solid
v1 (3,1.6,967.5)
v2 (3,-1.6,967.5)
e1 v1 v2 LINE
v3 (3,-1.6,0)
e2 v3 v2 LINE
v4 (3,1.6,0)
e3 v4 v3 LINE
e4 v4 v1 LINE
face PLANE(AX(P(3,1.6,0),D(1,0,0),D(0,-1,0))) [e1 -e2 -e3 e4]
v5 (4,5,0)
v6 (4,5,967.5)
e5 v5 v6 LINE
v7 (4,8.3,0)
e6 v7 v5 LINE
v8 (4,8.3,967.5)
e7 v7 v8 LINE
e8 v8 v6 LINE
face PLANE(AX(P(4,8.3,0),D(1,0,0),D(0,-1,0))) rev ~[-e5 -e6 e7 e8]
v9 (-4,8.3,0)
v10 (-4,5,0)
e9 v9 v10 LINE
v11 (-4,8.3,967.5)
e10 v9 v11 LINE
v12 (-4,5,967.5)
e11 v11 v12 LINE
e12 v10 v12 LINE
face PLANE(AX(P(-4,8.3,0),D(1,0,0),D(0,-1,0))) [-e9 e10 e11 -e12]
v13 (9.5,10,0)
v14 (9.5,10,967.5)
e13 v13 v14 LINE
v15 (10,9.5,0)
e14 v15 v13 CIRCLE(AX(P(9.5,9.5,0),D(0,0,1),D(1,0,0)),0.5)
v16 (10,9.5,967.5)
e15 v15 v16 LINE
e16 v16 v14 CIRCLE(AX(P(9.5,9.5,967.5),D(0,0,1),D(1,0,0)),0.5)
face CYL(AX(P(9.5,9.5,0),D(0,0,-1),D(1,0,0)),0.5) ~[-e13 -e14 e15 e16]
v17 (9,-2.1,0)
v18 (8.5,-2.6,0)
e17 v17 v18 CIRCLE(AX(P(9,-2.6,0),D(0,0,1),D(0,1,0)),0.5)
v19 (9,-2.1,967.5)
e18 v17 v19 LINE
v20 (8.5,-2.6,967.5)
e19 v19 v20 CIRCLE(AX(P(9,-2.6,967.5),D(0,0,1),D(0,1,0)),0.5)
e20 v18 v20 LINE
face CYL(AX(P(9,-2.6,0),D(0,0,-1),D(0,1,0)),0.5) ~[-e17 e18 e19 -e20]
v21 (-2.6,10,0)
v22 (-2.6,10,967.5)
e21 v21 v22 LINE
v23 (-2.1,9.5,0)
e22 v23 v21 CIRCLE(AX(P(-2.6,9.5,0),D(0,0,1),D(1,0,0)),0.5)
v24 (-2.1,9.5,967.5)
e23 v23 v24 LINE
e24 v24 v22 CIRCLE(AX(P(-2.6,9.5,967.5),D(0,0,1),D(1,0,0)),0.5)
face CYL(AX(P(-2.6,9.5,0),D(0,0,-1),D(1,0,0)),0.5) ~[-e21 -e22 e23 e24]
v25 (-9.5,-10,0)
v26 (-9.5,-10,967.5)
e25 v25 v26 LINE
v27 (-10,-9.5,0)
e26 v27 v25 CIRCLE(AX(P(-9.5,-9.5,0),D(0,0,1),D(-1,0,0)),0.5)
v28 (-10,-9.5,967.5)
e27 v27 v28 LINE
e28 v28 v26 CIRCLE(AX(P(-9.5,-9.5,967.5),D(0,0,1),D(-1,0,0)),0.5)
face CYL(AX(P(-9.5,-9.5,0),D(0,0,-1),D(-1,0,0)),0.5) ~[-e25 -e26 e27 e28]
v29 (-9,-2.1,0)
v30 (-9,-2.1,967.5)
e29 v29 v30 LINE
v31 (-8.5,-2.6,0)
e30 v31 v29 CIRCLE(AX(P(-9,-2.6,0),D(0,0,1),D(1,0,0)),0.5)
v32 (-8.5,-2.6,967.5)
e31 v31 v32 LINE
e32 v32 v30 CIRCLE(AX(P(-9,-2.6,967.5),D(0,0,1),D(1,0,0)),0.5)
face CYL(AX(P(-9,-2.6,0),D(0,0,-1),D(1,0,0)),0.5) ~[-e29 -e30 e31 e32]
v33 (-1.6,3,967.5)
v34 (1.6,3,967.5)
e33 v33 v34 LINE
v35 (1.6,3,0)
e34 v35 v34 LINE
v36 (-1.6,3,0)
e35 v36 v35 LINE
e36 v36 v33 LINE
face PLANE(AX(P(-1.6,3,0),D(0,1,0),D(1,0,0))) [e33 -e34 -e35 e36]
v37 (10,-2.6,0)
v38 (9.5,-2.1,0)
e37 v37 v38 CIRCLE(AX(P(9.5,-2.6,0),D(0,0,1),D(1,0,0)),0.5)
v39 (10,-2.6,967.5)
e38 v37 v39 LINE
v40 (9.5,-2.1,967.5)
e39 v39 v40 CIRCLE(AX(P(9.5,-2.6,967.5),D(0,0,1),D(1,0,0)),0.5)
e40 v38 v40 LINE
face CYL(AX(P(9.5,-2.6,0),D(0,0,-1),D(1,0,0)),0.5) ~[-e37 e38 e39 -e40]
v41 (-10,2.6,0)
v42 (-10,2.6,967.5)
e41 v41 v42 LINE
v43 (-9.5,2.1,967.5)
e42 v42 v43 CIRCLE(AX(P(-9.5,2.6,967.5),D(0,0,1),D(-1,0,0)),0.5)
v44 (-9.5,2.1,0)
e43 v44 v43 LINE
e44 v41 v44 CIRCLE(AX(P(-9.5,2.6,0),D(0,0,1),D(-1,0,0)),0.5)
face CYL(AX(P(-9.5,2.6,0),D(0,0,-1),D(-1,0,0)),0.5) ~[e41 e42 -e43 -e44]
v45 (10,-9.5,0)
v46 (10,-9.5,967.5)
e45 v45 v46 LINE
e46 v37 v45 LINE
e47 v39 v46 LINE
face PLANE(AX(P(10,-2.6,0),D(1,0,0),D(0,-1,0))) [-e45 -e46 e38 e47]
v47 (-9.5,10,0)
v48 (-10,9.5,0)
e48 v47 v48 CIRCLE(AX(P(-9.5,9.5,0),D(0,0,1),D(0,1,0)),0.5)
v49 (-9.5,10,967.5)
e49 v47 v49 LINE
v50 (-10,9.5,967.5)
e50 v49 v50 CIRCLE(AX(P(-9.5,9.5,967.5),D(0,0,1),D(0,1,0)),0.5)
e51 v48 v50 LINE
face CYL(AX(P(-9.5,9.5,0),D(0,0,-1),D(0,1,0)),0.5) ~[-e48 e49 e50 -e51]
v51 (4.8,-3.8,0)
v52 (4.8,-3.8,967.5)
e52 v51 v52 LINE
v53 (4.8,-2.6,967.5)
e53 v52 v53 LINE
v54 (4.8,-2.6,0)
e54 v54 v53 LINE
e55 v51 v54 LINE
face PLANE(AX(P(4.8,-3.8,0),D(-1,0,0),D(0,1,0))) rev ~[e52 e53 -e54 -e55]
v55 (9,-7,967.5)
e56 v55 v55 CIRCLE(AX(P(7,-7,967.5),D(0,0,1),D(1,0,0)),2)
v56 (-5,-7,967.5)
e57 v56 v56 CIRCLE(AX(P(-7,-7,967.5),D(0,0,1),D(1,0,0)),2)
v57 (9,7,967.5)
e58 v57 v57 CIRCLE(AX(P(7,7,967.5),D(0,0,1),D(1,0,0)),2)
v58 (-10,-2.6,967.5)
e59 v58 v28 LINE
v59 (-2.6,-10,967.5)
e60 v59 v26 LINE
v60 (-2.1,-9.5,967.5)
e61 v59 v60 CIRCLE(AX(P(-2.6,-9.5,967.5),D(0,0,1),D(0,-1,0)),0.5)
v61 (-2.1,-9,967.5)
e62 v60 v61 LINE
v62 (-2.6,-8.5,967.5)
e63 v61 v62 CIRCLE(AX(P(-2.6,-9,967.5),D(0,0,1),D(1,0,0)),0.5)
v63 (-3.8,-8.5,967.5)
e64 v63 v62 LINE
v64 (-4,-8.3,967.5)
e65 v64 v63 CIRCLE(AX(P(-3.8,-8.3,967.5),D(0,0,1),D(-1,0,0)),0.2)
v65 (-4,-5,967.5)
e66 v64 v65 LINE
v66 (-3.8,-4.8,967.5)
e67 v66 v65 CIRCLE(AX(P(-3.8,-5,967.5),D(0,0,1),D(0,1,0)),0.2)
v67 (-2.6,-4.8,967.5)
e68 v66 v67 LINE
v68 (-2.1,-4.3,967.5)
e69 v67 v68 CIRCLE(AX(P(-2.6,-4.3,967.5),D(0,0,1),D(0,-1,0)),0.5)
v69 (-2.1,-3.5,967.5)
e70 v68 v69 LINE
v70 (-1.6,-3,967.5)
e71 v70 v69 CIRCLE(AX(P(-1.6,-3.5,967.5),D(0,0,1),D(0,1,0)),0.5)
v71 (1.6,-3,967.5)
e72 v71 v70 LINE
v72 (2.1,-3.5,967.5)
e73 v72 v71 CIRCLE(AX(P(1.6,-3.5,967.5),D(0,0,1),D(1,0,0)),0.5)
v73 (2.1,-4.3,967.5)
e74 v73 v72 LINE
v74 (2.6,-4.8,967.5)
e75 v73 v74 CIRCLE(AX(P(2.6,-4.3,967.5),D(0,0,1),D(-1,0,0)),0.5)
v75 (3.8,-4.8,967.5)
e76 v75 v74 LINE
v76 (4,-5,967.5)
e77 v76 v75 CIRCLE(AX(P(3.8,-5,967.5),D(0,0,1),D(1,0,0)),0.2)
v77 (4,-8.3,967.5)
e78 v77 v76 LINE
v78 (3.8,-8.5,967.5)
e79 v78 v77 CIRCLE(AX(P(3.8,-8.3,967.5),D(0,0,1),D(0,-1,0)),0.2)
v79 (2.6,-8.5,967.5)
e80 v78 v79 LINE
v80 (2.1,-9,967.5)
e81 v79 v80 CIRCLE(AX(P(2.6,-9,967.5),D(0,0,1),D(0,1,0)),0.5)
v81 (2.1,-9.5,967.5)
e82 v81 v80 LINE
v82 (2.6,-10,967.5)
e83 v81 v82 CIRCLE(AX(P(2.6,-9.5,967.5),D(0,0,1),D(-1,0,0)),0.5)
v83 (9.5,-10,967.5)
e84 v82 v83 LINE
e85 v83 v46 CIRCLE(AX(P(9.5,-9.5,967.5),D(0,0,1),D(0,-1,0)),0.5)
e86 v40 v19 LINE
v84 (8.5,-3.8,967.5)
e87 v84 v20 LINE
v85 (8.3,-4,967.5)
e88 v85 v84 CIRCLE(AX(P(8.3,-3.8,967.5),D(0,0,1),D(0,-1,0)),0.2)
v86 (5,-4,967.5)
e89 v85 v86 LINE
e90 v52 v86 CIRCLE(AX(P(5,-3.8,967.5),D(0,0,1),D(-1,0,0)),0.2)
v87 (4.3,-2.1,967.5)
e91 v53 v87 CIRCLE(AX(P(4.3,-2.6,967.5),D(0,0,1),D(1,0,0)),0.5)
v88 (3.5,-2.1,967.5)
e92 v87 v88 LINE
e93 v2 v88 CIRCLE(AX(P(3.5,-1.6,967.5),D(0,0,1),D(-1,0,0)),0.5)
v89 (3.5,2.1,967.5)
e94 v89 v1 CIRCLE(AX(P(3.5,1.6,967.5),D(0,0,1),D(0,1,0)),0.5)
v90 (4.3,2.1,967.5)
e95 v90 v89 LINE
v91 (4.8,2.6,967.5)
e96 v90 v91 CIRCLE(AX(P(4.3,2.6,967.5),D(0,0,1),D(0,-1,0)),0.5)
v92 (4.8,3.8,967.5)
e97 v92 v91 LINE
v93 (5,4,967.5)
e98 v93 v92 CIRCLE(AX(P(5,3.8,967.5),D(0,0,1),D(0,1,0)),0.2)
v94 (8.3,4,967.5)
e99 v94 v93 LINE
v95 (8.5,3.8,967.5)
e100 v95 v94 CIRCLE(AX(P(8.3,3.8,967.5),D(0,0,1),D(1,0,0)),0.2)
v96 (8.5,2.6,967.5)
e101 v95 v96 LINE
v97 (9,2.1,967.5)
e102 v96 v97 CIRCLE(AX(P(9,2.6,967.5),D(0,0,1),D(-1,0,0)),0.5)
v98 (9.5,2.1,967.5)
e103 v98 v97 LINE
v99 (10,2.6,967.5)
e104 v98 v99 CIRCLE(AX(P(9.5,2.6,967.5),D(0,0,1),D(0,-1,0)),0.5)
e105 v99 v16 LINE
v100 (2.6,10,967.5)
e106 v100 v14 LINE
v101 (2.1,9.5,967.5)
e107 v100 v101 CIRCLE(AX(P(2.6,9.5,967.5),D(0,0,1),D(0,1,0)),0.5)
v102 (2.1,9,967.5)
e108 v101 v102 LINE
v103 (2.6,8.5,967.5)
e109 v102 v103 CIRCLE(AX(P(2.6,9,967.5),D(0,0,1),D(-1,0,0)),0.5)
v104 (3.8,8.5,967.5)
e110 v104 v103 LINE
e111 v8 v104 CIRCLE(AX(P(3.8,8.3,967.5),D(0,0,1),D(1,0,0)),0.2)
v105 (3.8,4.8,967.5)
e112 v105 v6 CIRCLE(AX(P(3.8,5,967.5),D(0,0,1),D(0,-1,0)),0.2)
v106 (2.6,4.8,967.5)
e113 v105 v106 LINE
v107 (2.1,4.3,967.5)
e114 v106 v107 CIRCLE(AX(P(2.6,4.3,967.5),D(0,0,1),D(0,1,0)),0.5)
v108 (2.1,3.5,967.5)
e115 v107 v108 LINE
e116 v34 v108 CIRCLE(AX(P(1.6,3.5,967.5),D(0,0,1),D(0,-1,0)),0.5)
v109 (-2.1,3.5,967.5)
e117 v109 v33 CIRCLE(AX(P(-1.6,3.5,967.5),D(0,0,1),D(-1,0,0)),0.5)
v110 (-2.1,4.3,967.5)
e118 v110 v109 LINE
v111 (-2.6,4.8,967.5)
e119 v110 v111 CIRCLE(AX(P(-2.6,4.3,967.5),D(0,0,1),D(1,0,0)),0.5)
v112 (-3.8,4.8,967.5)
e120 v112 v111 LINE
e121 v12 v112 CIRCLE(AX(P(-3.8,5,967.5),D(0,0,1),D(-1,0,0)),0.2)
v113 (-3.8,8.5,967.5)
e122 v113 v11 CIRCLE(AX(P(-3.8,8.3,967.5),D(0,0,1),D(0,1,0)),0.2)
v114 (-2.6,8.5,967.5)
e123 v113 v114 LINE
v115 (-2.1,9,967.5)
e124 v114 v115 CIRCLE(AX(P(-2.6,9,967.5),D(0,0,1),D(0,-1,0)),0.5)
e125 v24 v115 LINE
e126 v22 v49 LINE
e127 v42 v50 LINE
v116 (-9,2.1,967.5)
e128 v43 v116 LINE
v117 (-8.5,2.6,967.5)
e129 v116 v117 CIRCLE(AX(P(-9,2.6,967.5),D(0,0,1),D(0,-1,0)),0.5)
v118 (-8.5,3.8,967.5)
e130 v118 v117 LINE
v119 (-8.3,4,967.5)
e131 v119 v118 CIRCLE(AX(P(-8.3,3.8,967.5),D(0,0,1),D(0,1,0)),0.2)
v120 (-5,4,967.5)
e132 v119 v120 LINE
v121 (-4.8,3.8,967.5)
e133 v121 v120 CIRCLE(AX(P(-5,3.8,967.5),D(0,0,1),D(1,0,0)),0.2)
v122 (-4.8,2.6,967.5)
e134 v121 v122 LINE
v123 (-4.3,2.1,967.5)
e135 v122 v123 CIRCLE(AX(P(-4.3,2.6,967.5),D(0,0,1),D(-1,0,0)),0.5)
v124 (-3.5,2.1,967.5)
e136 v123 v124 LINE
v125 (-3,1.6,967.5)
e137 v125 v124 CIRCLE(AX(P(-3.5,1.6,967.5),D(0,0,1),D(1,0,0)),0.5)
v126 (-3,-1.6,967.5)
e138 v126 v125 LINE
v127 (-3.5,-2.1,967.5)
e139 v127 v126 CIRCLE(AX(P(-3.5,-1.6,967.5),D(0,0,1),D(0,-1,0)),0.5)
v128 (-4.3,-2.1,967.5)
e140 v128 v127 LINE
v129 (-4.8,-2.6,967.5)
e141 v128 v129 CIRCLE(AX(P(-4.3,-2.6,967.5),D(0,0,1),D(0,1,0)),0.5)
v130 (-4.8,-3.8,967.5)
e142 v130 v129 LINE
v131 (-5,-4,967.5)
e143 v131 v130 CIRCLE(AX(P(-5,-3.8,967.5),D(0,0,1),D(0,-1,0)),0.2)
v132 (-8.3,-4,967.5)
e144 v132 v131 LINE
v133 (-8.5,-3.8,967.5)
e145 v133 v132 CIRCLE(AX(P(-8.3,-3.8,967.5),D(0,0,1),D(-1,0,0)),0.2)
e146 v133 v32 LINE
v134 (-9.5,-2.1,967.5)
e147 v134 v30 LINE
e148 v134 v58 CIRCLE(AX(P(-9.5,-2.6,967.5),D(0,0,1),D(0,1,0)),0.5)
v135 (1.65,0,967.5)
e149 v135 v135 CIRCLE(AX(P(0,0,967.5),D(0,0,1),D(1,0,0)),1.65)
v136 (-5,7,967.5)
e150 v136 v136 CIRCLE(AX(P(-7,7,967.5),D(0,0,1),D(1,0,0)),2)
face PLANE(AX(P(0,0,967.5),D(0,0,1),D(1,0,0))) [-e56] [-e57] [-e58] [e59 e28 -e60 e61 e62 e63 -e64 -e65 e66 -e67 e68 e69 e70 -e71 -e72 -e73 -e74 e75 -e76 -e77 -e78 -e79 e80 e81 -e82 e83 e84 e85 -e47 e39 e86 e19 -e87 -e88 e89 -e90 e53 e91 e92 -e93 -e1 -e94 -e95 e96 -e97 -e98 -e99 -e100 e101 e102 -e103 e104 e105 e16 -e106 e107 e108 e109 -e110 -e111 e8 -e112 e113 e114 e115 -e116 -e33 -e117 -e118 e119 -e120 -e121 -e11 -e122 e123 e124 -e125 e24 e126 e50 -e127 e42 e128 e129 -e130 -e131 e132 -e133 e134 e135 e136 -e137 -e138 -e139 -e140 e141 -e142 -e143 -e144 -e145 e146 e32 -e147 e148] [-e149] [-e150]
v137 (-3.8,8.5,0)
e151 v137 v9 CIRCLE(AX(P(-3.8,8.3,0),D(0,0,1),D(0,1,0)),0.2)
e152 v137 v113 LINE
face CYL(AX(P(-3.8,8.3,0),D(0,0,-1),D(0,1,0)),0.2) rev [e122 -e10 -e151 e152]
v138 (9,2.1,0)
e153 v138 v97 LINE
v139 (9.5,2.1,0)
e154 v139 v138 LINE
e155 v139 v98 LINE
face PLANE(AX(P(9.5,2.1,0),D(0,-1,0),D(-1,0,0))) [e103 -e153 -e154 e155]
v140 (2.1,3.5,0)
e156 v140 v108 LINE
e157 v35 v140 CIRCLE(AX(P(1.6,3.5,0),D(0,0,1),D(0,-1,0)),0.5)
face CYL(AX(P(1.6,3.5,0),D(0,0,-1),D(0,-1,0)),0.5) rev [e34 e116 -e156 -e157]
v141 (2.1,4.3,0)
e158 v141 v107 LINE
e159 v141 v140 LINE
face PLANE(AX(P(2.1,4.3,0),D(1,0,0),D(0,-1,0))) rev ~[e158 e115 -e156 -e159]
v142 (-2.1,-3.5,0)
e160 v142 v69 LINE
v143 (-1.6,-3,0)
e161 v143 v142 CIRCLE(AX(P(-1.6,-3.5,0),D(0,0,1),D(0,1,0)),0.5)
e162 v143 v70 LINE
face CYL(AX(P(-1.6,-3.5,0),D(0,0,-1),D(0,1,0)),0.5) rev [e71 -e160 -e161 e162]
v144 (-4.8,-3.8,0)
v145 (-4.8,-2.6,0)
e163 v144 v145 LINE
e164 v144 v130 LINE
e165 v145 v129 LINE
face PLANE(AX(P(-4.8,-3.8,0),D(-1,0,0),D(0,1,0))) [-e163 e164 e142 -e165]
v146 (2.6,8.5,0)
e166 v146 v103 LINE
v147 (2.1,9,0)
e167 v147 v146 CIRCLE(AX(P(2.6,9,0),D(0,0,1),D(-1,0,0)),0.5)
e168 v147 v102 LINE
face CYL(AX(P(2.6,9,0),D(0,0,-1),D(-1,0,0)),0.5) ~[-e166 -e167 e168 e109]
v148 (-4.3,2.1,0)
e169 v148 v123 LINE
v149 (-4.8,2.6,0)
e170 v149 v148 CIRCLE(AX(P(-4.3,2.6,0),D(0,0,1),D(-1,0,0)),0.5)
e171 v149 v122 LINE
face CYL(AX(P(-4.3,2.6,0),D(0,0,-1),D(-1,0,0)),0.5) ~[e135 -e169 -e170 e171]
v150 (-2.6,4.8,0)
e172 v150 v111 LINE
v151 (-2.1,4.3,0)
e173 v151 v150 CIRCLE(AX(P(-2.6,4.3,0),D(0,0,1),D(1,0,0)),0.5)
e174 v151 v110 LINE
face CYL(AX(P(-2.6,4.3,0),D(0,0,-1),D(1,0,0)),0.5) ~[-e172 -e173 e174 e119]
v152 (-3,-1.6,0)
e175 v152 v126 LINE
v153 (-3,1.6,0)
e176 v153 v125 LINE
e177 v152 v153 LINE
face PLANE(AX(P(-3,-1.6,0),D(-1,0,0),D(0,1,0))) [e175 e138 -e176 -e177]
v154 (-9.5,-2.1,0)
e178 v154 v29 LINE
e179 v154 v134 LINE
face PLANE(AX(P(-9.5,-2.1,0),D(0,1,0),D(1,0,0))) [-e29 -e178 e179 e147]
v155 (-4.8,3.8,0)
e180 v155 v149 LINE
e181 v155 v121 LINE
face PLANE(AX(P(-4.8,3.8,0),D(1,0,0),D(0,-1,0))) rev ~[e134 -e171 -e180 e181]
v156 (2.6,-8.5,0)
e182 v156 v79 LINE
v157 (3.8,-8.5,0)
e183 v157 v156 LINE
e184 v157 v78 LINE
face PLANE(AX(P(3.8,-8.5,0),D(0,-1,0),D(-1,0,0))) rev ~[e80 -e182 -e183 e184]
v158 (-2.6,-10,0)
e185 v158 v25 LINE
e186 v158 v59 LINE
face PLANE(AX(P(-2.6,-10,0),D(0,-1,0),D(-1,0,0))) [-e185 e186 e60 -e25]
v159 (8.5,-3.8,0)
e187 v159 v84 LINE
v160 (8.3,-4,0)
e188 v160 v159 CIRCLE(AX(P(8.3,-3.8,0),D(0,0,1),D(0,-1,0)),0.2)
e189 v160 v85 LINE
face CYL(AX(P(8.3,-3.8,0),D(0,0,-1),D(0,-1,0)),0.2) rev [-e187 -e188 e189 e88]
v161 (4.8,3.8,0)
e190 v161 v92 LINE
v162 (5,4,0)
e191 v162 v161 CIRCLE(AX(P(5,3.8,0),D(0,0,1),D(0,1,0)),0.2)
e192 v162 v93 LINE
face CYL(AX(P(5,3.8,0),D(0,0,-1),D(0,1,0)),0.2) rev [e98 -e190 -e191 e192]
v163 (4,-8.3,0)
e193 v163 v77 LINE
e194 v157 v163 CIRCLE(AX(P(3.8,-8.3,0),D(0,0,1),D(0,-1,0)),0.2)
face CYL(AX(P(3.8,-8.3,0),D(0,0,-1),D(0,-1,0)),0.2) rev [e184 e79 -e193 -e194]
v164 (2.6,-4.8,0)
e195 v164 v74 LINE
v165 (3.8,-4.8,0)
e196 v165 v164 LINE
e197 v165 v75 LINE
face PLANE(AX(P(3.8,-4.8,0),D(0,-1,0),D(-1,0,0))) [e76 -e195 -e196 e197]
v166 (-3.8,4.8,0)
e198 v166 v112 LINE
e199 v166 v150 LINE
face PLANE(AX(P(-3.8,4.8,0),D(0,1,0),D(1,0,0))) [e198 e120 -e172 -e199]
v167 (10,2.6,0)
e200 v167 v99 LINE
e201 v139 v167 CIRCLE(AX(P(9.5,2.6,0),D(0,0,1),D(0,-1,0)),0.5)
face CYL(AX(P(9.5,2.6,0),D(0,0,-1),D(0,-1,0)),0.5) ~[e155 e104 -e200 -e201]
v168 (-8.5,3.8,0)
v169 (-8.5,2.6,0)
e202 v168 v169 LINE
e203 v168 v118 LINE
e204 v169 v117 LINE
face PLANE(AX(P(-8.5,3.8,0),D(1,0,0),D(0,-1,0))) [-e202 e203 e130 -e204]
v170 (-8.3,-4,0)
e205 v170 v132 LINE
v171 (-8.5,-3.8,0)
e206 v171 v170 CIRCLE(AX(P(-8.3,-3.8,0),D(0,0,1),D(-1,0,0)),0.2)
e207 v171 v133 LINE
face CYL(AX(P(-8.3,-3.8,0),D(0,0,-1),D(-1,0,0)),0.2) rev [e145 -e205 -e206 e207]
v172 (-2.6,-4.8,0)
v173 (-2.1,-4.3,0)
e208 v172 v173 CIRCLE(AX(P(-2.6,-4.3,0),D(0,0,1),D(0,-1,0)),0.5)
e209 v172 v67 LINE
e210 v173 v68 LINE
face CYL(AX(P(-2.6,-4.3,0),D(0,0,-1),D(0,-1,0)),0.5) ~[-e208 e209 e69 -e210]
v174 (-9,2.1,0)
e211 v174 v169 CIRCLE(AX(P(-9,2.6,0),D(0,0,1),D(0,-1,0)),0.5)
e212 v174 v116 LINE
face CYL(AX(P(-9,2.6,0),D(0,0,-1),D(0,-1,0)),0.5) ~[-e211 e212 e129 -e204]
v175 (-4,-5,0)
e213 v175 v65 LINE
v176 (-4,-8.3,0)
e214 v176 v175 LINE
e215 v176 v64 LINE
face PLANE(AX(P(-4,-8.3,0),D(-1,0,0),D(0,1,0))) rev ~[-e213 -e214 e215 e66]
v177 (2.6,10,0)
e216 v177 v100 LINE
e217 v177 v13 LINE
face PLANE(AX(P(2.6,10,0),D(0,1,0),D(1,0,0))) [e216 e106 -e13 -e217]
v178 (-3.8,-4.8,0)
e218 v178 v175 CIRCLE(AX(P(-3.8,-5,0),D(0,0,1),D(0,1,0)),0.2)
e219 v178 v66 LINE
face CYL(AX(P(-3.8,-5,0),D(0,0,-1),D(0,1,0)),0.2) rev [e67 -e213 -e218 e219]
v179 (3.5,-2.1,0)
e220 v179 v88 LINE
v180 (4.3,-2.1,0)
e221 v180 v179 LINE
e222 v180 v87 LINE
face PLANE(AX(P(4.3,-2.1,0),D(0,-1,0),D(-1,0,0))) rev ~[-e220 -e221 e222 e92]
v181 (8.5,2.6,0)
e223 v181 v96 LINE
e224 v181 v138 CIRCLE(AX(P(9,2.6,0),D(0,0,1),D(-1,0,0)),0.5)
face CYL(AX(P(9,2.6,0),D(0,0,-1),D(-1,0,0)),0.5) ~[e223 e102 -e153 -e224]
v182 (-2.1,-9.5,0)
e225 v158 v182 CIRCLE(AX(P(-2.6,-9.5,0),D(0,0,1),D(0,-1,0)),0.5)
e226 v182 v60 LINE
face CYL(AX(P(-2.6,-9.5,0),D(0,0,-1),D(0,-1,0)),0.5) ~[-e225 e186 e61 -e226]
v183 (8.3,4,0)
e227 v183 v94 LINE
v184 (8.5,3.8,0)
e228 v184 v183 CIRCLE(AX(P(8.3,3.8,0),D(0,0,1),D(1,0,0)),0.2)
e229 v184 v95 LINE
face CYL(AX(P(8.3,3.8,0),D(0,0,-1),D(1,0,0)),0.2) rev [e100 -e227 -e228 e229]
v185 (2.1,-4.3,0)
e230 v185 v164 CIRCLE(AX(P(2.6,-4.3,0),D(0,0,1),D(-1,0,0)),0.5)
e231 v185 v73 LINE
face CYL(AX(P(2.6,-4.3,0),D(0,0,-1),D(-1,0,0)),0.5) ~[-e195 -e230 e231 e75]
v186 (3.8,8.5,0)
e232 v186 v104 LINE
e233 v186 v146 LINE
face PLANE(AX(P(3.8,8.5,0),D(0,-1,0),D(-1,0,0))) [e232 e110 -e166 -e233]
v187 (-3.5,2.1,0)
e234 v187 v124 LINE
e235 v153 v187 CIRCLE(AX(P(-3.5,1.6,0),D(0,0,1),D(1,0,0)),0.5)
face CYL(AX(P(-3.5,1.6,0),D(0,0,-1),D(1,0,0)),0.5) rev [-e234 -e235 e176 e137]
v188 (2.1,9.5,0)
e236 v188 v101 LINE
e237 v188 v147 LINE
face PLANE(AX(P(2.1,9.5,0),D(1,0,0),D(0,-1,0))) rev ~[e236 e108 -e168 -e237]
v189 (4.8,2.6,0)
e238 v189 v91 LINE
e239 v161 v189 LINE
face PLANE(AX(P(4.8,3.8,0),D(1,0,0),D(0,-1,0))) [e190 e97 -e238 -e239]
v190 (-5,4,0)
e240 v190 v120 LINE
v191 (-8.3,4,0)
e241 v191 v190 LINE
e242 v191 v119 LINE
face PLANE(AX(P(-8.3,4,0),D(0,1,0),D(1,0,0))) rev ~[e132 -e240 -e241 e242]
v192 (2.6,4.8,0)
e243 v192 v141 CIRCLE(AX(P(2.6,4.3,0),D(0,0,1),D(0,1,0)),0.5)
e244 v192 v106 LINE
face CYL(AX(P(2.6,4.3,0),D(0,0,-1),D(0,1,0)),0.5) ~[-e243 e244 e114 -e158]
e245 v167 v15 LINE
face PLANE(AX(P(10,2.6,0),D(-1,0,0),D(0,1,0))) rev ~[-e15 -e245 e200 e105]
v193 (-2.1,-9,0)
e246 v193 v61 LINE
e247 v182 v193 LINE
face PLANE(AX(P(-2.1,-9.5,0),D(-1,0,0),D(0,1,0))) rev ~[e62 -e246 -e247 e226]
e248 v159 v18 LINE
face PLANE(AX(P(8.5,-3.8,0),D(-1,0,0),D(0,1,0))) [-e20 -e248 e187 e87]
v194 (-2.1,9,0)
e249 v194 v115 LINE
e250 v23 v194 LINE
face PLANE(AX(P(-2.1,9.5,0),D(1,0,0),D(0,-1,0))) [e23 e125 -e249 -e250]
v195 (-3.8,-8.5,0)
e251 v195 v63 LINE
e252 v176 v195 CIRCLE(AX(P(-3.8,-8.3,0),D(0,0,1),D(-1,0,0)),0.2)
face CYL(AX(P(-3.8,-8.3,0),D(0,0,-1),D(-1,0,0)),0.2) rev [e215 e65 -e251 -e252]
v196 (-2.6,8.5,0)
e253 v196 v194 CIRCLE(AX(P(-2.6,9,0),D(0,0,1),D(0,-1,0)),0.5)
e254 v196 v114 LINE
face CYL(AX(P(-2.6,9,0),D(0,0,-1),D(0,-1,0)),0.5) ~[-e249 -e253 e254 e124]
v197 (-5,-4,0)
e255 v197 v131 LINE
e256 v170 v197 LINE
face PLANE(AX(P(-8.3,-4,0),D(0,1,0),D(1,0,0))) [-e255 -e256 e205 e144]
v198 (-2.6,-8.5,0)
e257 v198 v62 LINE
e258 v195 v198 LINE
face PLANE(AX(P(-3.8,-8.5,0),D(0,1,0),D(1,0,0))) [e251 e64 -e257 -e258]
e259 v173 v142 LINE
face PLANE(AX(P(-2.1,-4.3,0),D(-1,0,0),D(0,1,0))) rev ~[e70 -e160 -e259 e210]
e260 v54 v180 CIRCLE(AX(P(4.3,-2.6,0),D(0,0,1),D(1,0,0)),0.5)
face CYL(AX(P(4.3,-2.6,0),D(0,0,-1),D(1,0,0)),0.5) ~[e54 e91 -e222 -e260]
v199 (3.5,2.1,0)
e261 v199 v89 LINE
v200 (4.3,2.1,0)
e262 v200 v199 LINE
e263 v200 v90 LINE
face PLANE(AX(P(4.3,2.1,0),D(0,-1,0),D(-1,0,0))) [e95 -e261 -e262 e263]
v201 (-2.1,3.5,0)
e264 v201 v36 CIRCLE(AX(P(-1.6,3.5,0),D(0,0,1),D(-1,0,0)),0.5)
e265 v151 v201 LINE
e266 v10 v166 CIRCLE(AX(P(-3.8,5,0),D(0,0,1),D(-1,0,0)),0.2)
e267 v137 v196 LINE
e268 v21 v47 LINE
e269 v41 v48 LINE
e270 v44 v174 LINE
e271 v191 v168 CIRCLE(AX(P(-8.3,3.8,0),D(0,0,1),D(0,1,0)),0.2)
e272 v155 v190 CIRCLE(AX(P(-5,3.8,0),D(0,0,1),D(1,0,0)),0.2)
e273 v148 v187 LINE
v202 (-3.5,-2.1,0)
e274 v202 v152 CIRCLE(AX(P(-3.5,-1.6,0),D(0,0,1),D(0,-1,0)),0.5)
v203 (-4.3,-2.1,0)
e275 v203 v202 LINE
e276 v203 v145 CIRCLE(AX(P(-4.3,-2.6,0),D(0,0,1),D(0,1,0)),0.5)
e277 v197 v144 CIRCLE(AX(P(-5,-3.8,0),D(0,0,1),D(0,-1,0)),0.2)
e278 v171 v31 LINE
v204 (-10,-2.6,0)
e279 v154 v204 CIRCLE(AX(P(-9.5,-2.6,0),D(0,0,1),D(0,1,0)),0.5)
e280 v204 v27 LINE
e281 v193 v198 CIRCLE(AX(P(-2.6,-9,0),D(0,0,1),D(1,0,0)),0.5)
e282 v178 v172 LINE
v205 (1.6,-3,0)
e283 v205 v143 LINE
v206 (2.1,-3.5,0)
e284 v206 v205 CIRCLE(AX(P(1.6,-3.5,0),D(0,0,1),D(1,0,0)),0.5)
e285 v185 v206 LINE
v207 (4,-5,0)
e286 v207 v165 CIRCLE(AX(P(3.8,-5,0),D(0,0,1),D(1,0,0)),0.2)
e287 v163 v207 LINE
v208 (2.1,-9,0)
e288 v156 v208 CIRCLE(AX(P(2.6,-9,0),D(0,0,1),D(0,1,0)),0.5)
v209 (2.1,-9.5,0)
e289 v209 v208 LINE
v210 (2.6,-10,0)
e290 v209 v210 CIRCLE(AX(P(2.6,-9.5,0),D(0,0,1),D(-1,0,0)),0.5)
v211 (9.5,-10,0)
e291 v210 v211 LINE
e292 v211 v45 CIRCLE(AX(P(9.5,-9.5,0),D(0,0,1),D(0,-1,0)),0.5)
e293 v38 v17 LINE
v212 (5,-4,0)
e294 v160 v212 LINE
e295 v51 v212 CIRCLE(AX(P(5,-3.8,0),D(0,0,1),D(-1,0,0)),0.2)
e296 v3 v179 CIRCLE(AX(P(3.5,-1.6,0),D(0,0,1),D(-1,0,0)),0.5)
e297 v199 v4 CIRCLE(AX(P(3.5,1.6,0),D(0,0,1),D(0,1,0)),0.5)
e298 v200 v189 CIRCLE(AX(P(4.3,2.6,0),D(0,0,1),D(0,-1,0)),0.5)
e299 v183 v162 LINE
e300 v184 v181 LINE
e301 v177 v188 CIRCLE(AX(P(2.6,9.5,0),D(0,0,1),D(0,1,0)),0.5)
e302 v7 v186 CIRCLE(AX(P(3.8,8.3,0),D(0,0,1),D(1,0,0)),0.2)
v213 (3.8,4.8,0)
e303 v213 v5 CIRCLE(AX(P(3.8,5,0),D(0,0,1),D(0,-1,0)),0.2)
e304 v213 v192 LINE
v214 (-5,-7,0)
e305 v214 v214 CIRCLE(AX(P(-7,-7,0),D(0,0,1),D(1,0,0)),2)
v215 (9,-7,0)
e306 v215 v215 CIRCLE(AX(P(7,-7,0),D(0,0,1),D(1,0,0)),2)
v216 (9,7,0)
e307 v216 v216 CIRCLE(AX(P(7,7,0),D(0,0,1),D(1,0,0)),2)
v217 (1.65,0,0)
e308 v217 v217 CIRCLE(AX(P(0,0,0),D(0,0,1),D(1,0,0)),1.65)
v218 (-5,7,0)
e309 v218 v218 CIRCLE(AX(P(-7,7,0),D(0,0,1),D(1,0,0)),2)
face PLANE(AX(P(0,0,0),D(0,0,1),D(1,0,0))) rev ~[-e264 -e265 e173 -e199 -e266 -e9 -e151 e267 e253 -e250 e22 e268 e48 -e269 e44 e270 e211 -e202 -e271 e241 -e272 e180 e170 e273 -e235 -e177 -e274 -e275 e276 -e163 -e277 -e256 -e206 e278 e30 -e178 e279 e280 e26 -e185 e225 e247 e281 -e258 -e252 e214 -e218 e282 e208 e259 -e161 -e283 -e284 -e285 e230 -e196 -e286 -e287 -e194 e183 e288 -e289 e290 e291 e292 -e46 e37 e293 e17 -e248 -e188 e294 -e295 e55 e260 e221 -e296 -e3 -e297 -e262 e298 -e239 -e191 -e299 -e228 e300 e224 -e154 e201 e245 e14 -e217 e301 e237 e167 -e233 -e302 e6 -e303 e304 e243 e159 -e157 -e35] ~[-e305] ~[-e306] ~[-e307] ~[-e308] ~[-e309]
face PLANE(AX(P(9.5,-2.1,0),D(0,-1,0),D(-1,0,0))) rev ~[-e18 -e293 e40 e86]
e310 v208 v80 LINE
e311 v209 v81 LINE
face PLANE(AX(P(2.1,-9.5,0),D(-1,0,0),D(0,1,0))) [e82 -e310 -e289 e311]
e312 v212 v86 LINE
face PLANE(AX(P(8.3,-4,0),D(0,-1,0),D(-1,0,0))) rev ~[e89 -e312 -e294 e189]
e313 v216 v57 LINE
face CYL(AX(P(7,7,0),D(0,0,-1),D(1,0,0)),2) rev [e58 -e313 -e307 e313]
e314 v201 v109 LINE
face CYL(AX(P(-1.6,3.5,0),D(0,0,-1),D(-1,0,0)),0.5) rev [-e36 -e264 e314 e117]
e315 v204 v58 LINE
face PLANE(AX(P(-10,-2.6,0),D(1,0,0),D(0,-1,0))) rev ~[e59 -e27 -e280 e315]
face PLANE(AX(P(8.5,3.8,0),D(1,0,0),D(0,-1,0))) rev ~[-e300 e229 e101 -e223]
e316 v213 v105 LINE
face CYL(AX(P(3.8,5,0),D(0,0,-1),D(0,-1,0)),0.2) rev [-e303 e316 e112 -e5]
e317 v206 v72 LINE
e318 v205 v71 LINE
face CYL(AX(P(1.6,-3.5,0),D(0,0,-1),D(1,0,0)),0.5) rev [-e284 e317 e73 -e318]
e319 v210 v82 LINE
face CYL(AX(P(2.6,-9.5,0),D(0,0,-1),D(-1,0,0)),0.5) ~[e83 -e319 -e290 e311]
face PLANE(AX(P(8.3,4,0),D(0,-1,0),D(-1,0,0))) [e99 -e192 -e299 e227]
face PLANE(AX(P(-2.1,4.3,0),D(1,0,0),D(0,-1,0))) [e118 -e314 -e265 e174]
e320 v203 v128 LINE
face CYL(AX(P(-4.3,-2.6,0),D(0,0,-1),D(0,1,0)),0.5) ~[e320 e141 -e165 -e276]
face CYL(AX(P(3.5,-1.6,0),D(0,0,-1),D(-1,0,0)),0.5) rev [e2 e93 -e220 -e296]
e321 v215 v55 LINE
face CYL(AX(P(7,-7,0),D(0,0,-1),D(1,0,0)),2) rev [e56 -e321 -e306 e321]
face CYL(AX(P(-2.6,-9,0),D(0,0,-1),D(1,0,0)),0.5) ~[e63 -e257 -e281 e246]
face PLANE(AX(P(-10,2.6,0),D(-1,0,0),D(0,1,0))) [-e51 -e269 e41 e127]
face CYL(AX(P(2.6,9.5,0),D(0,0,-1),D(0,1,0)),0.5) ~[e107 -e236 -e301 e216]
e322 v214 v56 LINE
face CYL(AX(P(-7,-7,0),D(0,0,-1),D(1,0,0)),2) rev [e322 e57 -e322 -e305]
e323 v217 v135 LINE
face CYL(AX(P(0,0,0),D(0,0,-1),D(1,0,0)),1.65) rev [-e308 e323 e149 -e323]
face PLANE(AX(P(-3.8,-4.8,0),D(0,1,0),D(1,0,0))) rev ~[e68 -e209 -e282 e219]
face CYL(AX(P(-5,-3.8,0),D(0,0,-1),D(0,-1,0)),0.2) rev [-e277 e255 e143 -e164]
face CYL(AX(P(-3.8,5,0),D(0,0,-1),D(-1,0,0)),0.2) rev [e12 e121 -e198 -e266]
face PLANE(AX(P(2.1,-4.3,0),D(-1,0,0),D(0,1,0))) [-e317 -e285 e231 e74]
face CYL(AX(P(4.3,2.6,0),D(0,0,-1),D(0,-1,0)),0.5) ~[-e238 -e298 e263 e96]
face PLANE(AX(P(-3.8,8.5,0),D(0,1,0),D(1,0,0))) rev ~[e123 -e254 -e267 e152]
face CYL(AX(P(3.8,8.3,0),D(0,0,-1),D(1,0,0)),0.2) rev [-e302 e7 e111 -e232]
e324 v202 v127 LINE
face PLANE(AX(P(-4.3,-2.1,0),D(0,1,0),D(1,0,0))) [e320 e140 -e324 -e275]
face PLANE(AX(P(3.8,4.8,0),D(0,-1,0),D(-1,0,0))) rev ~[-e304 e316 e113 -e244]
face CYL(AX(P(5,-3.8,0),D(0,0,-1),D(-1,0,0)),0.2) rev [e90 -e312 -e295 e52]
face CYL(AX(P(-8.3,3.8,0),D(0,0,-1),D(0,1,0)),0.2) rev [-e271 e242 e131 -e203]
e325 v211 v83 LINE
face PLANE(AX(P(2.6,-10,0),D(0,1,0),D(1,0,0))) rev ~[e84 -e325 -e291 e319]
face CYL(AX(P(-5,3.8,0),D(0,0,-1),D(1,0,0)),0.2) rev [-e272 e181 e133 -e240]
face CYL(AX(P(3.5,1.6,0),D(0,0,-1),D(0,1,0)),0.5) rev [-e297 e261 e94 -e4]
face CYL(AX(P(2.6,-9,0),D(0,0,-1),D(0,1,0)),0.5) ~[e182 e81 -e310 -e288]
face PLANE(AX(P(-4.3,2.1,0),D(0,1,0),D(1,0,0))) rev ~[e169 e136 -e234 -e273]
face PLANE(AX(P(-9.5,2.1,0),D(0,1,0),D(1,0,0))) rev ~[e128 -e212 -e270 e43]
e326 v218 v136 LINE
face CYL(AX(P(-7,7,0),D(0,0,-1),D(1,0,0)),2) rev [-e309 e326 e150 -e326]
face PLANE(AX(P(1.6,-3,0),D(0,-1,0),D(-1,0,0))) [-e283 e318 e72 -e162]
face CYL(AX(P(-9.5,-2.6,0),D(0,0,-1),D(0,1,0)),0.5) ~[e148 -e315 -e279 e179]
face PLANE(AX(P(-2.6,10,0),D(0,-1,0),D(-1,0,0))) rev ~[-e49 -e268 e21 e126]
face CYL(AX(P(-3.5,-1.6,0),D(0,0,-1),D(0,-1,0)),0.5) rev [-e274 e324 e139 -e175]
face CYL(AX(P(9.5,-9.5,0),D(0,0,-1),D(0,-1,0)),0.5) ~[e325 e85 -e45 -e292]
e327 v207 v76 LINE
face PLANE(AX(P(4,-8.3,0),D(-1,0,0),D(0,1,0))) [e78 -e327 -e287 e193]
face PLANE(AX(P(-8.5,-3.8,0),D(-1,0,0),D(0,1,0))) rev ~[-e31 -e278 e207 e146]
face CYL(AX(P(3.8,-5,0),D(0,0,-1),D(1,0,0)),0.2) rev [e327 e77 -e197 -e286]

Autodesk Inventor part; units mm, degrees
ref_plane "YZ Plane" through (0, 0, 0) normal (1, 0, 0) x (0, 1, 0)
ref_plane "XZ Plane" through (0, 0, 0) normal (0, 1, 0) x (-1, 0, 0)
ref_plane "XY Plane" through (0, 0, 0) normal (0, 0, 1) x (1, 0, 0)
sketch "BaseS" plane through (0, 0, 0) normal (0, 0, 1) x (1, 0, 0)
  line L0 (8.5, -3.8) -> (8.5, -2.6)
  line L1 (4, -8.3) -> (4, -5)
  circle A0 centre (7, -7) radius 2
  line L2 (10, -2.6) -> (10, -9.5)
  line L3 (2.6, -10) -> (9.5, -10)
  line L4 (2.1, -9.5) -> (2.1, -9)
  line L5 (8.5, -2.6) -> (8.5, -3.8)
  line L6 (3.8, -4.8) -> (2.6, -4.8)
  line L7 (4.8, -3.8) -> (4.8, -2.6)
  arc A1 (2.1, -4.3) -> (2.6, -4.8) centre (2.6, -4.3) ccw
  arc A2 (2.6, -8.5) -> (2.1, -9) centre (2.6, -9) ccw
  arc A3 (3.8, -8.5) -> (4, -8.3) centre (3.8, -8.3) ccw
  arc A4 (4, -5) -> (3.8, -4.8) centre (3.8, -5) ccw
  arc A5 (2.1, -3.5) -> (1.6, -3) centre (1.6, -3.5) ccw
  arc A6 (2.1, -9.5) -> (2.6, -10) centre (2.6, -9.5) ccw
  arc A7 (9.5, -10) -> (10, -9.5) centre (9.5, -9.5) ccw
  arc A8 (10, -2.6) -> (9.5, -2.1) centre (9.5, -2.6) ccw
  arc A9 (9, -2.1) -> (8.5, -2.6) centre (9, -2.6) ccw
  arc A10 (8.3, -4) -> (8.5, -3.8) centre (8.3, -3.8) ccw
  arc A11 (4.8, -3.8) -> (5, -4) centre (5, -3.8) ccw
  line L8 (4.3, -2.1) -> (3.5, -2.1)
  arc A12 (4.8, -2.6) -> (4.3, -2.1) centre (4.3, -2.6) ccw
  arc A13 (3, -1.6) -> (3.5, -2.1) centre (3.5, -1.6) ccw
  line L9 (2.1, -4.3) -> (2.1, -3.5)
  line L10 (3.8, -8.5) -> (2.6, -8.5)
  line L11 (9.5, -2.1) -> (9, -2.1)
  line L12 (8.3, -4) -> (5, -4)
  circle A14 centre (0, 0) radius 1.65
  arc A15 (8.5, 2.6) -> (9, 2.1) centre (9, 2.6) ccw
  line L13 (8.5, 3.8) -> (8.5, 2.6)
  arc A16 (8.5, 3.8) -> (8.3, 4) centre (8.3, 3.8) ccw
  line L14 (8.3, 4) -> (5, 4)
  line L15 (10, 2.6) -> (10, 9.5)
  arc A17 (10, 9.5) -> (9.5, 10) centre (9.5, 9.5) ccw
  circle A18 centre (7, 7) radius 2
  line L16 (4, 8.3) -> (4, 5)
  line L17 (2.6, 10) -> (9.5, 10)
  line L18 (9.5, 2.1) -> (9, 2.1)
  arc A19 (9.5, 2.1) -> (10, 2.6) centre (9.5, 2.6) ccw
  line L19 (3.8, 8.5) -> (2.6, 8.5)
  line L20 (4.8, 3.8) -> (4.8, 2.6)
  arc A20 (4.3, 2.1) -> (4.8, 2.6) centre (4.3, 2.6) ccw
  line L21 (2.6, 8.5) -> (3.8, 8.5)
  arc A21 (4, 8.3) -> (3.8, 8.5) centre (3.8, 8.3) ccw
  arc A22 (2.1, 9) -> (2.6, 8.5) centre (2.6, 9) ccw
  arc A23 (2.6, 10) -> (2.1, 9.5) centre (2.6, 9.5) ccw
  line L22 (2.1, 9.5) -> (2.1, 9)
  arc A24 (1.6, 3) -> (2.1, 3.5) centre (1.6, 3.5) ccw
  line L23 (3.8, 4.8) -> (2.6, 4.8)
  arc A25 (5, 4) -> (4.8, 3.8) centre (5, 3.8) ccw
  arc A26 (3.8, 4.8) -> (4, 5) centre (3.8, 5) ccw
  line L24 (4.3, 2.1) -> (3.5, 2.1)
  arc A27 (2.6, 4.8) -> (2.1, 4.3) centre (2.6, 4.3) ccw
  line L25 (2.1, 4.3) -> (2.1, 3.5)
  arc A28 (3.5, 2.1) -> (3, 1.6) centre (3.5, 1.6) ccw
  arc A29 (-2.6, 8.5) -> (-2.1, 9) centre (-2.6, 9) ccw
  line L26 (-3.8, 8.5) -> (-2.6, 8.5)
  arc A30 (-3.8, 8.5) -> (-4, 8.3) centre (-3.8, 8.3) ccw
  line L27 (-4, 8.3) -> (-4, 5)
  line L28 (-2.6, 10) -> (-9.5, 10)
  arc A31 (-9.5, 10) -> (-10, 9.5) centre (-9.5, 9.5) ccw
  circle A32 centre (-7, 7) radius 2
  line L29 (-8.3, 4) -> (-5, 4)
  line L30 (-10, 2.6) -> (-10, 9.5)
  line L31 (-2.1, 9.5) -> (-2.1, 9)
  arc A33 (-2.1, 9.5) -> (-2.6, 10) centre (-2.6, 9.5) ccw
  line L32 (-8.5, 3.8) -> (-8.5, 2.6)
  line L33 (-3.8, 4.8) -> (-2.6, 4.8)
  arc A34 (-2.1, 4.3) -> (-2.6, 4.8) centre (-2.6, 4.3) ccw
  line L34 (-8.5, 2.6) -> (-8.5, 3.8)
  arc A35 (-8.3, 4) -> (-8.5, 3.8) centre (-8.3, 3.8) ccw
  arc A36 (-9, 2.1) -> (-8.5, 2.6) centre (-9, 2.6) ccw
  arc A37 (-10, 2.6) -> (-9.5, 2.1) centre (-9.5, 2.6) ccw
  line L35 (-9.5, 2.1) -> (-9, 2.1)
  arc A38 (-3, 1.6) -> (-3.5, 2.1) centre (-3.5, 1.6) ccw
  line L36 (-4.8, 3.8) -> (-4.8, 2.6)
  arc A39 (-4, 5) -> (-3.8, 4.8) centre (-3.8, 5) ccw
  arc A40 (-4.8, 3.8) -> (-5, 4) centre (-5, 3.8) ccw
  line L37 (-2.1, 4.3) -> (-2.1, 3.5)
  arc A41 (-4.8, 2.6) -> (-4.3, 2.1) centre (-4.3, 2.6) ccw
  line L38 (-4.3, 2.1) -> (-3.5, 2.1)
  arc A42 (-2.1, 3.5) -> (-1.6, 3) centre (-1.6, 3.5) ccw
  arc A43 (-8.5, -2.6) -> (-9, -2.1) centre (-9, -2.6) ccw
  line L39 (-8.5, -3.8) -> (-8.5, -2.6)
  arc A44 (-8.5, -3.8) -> (-8.3, -4) centre (-8.3, -3.8) ccw
  line L40 (-8.3, -4) -> (-5, -4)
  line L41 (-10, -2.6) -> (-10, -9.5)
  arc A45 (-10, -9.5) -> (-9.5, -10) centre (-9.5, -9.5) ccw
  circle A46 centre (-7, -7) radius 2
  line L42 (-4, -8.3) -> (-4, -5)
  line L43 (-2.6, -10) -> (-9.5, -10)
  line L44 (-9.5, -2.1) -> (-9, -2.1)
  arc A47 (-9.5, -2.1) -> (-10, -2.6) centre (-9.5, -2.6) ccw
  line L45 (-3.8, -8.5) -> (-2.6, -8.5)
  line L46 (-4.8, -3.8) -> (-4.8, -2.6)
  arc A48 (-4.3, -2.1) -> (-4.8, -2.6) centre (-4.3, -2.6) ccw
  line L47 (-2.6, -8.5) -> (-3.8, -8.5)
  arc A49 (-4, -8.3) -> (-3.8, -8.5) centre (-3.8, -8.3) ccw
  arc A50 (-2.1, -9) -> (-2.6, -8.5) centre (-2.6, -9) ccw
  arc A51 (-2.6, -10) -> (-2.1, -9.5) centre (-2.6, -9.5) ccw
  line L48 (-2.1, -9.5) -> (-2.1, -9)
  arc A52 (-1.6, -3) -> (-2.1, -3.5) centre (-1.6, -3.5) ccw
  line L49 (-3.8, -4.8) -> (-2.6, -4.8)
  arc A53 (-5, -4) -> (-4.8, -3.8) centre (-5, -3.8) ccw
  arc A54 (-3.8, -4.8) -> (-4, -5) centre (-3.8, -5) ccw
  line L50 (-4.3, -2.1) -> (-3.5, -2.1)
  arc A55 (-2.6, -4.8) -> (-2.1, -4.3) centre (-2.6, -4.3) ccw
  line L51 (-2.1, -4.3) -> (-2.1, -3.5)
  arc A56 (-3.5, -2.1) -> (-3, -1.6) centre (-3.5, -1.6) ccw
  line L52 (1.6, -3) -> (-1.6, -3)
  line L53 (-3, -1.6) -> (-3, 1.6)
  line L54 (-1.6, 3) -> (1.6, 3)
  line L55 (3, 1.6) -> (3, -1.6)
  point P0 (2.1, -10)
  point P1 (10, 2.1)
  point P2 (-2.1, 10)
  point P3 (-10, -2.1)
  dimension "d2" = 4
  dimension "d3" = 3.7
  dimension "d4" = 0.5
  dimension "d5" = 0.5
  dimension "d6" = 0.2
  dimension "d7" = 0.5
  dimension "d8" = 0.5
  dimension "d9" = 0.5
  dimension "d10" = 0.2
  dimension "d11" = 0.5
  dimension "d12" = 1.5
  dimension "d13" = 3.7
  dimension "d14" = 1.5
  dimension "d15" = 3.3
  dimension "d16" = 10
  dimension "d17" = 2.1
  dimension "d18" = 2.1
  dimension "d19" = 1.9
  dimension "d20" = 7
  dimension "d21" = 2.1
  dimension "d22" = 2.1
  dimension "d23" = 1.9
  dimension "d24" = 7
  dimension "d25" = 10
  dimension "d26" = 360
  dimension "d27" = 3
extrude "押し出し1" add sketch "BaseS" along normal blind 967.5
properties part number "S967.5"
